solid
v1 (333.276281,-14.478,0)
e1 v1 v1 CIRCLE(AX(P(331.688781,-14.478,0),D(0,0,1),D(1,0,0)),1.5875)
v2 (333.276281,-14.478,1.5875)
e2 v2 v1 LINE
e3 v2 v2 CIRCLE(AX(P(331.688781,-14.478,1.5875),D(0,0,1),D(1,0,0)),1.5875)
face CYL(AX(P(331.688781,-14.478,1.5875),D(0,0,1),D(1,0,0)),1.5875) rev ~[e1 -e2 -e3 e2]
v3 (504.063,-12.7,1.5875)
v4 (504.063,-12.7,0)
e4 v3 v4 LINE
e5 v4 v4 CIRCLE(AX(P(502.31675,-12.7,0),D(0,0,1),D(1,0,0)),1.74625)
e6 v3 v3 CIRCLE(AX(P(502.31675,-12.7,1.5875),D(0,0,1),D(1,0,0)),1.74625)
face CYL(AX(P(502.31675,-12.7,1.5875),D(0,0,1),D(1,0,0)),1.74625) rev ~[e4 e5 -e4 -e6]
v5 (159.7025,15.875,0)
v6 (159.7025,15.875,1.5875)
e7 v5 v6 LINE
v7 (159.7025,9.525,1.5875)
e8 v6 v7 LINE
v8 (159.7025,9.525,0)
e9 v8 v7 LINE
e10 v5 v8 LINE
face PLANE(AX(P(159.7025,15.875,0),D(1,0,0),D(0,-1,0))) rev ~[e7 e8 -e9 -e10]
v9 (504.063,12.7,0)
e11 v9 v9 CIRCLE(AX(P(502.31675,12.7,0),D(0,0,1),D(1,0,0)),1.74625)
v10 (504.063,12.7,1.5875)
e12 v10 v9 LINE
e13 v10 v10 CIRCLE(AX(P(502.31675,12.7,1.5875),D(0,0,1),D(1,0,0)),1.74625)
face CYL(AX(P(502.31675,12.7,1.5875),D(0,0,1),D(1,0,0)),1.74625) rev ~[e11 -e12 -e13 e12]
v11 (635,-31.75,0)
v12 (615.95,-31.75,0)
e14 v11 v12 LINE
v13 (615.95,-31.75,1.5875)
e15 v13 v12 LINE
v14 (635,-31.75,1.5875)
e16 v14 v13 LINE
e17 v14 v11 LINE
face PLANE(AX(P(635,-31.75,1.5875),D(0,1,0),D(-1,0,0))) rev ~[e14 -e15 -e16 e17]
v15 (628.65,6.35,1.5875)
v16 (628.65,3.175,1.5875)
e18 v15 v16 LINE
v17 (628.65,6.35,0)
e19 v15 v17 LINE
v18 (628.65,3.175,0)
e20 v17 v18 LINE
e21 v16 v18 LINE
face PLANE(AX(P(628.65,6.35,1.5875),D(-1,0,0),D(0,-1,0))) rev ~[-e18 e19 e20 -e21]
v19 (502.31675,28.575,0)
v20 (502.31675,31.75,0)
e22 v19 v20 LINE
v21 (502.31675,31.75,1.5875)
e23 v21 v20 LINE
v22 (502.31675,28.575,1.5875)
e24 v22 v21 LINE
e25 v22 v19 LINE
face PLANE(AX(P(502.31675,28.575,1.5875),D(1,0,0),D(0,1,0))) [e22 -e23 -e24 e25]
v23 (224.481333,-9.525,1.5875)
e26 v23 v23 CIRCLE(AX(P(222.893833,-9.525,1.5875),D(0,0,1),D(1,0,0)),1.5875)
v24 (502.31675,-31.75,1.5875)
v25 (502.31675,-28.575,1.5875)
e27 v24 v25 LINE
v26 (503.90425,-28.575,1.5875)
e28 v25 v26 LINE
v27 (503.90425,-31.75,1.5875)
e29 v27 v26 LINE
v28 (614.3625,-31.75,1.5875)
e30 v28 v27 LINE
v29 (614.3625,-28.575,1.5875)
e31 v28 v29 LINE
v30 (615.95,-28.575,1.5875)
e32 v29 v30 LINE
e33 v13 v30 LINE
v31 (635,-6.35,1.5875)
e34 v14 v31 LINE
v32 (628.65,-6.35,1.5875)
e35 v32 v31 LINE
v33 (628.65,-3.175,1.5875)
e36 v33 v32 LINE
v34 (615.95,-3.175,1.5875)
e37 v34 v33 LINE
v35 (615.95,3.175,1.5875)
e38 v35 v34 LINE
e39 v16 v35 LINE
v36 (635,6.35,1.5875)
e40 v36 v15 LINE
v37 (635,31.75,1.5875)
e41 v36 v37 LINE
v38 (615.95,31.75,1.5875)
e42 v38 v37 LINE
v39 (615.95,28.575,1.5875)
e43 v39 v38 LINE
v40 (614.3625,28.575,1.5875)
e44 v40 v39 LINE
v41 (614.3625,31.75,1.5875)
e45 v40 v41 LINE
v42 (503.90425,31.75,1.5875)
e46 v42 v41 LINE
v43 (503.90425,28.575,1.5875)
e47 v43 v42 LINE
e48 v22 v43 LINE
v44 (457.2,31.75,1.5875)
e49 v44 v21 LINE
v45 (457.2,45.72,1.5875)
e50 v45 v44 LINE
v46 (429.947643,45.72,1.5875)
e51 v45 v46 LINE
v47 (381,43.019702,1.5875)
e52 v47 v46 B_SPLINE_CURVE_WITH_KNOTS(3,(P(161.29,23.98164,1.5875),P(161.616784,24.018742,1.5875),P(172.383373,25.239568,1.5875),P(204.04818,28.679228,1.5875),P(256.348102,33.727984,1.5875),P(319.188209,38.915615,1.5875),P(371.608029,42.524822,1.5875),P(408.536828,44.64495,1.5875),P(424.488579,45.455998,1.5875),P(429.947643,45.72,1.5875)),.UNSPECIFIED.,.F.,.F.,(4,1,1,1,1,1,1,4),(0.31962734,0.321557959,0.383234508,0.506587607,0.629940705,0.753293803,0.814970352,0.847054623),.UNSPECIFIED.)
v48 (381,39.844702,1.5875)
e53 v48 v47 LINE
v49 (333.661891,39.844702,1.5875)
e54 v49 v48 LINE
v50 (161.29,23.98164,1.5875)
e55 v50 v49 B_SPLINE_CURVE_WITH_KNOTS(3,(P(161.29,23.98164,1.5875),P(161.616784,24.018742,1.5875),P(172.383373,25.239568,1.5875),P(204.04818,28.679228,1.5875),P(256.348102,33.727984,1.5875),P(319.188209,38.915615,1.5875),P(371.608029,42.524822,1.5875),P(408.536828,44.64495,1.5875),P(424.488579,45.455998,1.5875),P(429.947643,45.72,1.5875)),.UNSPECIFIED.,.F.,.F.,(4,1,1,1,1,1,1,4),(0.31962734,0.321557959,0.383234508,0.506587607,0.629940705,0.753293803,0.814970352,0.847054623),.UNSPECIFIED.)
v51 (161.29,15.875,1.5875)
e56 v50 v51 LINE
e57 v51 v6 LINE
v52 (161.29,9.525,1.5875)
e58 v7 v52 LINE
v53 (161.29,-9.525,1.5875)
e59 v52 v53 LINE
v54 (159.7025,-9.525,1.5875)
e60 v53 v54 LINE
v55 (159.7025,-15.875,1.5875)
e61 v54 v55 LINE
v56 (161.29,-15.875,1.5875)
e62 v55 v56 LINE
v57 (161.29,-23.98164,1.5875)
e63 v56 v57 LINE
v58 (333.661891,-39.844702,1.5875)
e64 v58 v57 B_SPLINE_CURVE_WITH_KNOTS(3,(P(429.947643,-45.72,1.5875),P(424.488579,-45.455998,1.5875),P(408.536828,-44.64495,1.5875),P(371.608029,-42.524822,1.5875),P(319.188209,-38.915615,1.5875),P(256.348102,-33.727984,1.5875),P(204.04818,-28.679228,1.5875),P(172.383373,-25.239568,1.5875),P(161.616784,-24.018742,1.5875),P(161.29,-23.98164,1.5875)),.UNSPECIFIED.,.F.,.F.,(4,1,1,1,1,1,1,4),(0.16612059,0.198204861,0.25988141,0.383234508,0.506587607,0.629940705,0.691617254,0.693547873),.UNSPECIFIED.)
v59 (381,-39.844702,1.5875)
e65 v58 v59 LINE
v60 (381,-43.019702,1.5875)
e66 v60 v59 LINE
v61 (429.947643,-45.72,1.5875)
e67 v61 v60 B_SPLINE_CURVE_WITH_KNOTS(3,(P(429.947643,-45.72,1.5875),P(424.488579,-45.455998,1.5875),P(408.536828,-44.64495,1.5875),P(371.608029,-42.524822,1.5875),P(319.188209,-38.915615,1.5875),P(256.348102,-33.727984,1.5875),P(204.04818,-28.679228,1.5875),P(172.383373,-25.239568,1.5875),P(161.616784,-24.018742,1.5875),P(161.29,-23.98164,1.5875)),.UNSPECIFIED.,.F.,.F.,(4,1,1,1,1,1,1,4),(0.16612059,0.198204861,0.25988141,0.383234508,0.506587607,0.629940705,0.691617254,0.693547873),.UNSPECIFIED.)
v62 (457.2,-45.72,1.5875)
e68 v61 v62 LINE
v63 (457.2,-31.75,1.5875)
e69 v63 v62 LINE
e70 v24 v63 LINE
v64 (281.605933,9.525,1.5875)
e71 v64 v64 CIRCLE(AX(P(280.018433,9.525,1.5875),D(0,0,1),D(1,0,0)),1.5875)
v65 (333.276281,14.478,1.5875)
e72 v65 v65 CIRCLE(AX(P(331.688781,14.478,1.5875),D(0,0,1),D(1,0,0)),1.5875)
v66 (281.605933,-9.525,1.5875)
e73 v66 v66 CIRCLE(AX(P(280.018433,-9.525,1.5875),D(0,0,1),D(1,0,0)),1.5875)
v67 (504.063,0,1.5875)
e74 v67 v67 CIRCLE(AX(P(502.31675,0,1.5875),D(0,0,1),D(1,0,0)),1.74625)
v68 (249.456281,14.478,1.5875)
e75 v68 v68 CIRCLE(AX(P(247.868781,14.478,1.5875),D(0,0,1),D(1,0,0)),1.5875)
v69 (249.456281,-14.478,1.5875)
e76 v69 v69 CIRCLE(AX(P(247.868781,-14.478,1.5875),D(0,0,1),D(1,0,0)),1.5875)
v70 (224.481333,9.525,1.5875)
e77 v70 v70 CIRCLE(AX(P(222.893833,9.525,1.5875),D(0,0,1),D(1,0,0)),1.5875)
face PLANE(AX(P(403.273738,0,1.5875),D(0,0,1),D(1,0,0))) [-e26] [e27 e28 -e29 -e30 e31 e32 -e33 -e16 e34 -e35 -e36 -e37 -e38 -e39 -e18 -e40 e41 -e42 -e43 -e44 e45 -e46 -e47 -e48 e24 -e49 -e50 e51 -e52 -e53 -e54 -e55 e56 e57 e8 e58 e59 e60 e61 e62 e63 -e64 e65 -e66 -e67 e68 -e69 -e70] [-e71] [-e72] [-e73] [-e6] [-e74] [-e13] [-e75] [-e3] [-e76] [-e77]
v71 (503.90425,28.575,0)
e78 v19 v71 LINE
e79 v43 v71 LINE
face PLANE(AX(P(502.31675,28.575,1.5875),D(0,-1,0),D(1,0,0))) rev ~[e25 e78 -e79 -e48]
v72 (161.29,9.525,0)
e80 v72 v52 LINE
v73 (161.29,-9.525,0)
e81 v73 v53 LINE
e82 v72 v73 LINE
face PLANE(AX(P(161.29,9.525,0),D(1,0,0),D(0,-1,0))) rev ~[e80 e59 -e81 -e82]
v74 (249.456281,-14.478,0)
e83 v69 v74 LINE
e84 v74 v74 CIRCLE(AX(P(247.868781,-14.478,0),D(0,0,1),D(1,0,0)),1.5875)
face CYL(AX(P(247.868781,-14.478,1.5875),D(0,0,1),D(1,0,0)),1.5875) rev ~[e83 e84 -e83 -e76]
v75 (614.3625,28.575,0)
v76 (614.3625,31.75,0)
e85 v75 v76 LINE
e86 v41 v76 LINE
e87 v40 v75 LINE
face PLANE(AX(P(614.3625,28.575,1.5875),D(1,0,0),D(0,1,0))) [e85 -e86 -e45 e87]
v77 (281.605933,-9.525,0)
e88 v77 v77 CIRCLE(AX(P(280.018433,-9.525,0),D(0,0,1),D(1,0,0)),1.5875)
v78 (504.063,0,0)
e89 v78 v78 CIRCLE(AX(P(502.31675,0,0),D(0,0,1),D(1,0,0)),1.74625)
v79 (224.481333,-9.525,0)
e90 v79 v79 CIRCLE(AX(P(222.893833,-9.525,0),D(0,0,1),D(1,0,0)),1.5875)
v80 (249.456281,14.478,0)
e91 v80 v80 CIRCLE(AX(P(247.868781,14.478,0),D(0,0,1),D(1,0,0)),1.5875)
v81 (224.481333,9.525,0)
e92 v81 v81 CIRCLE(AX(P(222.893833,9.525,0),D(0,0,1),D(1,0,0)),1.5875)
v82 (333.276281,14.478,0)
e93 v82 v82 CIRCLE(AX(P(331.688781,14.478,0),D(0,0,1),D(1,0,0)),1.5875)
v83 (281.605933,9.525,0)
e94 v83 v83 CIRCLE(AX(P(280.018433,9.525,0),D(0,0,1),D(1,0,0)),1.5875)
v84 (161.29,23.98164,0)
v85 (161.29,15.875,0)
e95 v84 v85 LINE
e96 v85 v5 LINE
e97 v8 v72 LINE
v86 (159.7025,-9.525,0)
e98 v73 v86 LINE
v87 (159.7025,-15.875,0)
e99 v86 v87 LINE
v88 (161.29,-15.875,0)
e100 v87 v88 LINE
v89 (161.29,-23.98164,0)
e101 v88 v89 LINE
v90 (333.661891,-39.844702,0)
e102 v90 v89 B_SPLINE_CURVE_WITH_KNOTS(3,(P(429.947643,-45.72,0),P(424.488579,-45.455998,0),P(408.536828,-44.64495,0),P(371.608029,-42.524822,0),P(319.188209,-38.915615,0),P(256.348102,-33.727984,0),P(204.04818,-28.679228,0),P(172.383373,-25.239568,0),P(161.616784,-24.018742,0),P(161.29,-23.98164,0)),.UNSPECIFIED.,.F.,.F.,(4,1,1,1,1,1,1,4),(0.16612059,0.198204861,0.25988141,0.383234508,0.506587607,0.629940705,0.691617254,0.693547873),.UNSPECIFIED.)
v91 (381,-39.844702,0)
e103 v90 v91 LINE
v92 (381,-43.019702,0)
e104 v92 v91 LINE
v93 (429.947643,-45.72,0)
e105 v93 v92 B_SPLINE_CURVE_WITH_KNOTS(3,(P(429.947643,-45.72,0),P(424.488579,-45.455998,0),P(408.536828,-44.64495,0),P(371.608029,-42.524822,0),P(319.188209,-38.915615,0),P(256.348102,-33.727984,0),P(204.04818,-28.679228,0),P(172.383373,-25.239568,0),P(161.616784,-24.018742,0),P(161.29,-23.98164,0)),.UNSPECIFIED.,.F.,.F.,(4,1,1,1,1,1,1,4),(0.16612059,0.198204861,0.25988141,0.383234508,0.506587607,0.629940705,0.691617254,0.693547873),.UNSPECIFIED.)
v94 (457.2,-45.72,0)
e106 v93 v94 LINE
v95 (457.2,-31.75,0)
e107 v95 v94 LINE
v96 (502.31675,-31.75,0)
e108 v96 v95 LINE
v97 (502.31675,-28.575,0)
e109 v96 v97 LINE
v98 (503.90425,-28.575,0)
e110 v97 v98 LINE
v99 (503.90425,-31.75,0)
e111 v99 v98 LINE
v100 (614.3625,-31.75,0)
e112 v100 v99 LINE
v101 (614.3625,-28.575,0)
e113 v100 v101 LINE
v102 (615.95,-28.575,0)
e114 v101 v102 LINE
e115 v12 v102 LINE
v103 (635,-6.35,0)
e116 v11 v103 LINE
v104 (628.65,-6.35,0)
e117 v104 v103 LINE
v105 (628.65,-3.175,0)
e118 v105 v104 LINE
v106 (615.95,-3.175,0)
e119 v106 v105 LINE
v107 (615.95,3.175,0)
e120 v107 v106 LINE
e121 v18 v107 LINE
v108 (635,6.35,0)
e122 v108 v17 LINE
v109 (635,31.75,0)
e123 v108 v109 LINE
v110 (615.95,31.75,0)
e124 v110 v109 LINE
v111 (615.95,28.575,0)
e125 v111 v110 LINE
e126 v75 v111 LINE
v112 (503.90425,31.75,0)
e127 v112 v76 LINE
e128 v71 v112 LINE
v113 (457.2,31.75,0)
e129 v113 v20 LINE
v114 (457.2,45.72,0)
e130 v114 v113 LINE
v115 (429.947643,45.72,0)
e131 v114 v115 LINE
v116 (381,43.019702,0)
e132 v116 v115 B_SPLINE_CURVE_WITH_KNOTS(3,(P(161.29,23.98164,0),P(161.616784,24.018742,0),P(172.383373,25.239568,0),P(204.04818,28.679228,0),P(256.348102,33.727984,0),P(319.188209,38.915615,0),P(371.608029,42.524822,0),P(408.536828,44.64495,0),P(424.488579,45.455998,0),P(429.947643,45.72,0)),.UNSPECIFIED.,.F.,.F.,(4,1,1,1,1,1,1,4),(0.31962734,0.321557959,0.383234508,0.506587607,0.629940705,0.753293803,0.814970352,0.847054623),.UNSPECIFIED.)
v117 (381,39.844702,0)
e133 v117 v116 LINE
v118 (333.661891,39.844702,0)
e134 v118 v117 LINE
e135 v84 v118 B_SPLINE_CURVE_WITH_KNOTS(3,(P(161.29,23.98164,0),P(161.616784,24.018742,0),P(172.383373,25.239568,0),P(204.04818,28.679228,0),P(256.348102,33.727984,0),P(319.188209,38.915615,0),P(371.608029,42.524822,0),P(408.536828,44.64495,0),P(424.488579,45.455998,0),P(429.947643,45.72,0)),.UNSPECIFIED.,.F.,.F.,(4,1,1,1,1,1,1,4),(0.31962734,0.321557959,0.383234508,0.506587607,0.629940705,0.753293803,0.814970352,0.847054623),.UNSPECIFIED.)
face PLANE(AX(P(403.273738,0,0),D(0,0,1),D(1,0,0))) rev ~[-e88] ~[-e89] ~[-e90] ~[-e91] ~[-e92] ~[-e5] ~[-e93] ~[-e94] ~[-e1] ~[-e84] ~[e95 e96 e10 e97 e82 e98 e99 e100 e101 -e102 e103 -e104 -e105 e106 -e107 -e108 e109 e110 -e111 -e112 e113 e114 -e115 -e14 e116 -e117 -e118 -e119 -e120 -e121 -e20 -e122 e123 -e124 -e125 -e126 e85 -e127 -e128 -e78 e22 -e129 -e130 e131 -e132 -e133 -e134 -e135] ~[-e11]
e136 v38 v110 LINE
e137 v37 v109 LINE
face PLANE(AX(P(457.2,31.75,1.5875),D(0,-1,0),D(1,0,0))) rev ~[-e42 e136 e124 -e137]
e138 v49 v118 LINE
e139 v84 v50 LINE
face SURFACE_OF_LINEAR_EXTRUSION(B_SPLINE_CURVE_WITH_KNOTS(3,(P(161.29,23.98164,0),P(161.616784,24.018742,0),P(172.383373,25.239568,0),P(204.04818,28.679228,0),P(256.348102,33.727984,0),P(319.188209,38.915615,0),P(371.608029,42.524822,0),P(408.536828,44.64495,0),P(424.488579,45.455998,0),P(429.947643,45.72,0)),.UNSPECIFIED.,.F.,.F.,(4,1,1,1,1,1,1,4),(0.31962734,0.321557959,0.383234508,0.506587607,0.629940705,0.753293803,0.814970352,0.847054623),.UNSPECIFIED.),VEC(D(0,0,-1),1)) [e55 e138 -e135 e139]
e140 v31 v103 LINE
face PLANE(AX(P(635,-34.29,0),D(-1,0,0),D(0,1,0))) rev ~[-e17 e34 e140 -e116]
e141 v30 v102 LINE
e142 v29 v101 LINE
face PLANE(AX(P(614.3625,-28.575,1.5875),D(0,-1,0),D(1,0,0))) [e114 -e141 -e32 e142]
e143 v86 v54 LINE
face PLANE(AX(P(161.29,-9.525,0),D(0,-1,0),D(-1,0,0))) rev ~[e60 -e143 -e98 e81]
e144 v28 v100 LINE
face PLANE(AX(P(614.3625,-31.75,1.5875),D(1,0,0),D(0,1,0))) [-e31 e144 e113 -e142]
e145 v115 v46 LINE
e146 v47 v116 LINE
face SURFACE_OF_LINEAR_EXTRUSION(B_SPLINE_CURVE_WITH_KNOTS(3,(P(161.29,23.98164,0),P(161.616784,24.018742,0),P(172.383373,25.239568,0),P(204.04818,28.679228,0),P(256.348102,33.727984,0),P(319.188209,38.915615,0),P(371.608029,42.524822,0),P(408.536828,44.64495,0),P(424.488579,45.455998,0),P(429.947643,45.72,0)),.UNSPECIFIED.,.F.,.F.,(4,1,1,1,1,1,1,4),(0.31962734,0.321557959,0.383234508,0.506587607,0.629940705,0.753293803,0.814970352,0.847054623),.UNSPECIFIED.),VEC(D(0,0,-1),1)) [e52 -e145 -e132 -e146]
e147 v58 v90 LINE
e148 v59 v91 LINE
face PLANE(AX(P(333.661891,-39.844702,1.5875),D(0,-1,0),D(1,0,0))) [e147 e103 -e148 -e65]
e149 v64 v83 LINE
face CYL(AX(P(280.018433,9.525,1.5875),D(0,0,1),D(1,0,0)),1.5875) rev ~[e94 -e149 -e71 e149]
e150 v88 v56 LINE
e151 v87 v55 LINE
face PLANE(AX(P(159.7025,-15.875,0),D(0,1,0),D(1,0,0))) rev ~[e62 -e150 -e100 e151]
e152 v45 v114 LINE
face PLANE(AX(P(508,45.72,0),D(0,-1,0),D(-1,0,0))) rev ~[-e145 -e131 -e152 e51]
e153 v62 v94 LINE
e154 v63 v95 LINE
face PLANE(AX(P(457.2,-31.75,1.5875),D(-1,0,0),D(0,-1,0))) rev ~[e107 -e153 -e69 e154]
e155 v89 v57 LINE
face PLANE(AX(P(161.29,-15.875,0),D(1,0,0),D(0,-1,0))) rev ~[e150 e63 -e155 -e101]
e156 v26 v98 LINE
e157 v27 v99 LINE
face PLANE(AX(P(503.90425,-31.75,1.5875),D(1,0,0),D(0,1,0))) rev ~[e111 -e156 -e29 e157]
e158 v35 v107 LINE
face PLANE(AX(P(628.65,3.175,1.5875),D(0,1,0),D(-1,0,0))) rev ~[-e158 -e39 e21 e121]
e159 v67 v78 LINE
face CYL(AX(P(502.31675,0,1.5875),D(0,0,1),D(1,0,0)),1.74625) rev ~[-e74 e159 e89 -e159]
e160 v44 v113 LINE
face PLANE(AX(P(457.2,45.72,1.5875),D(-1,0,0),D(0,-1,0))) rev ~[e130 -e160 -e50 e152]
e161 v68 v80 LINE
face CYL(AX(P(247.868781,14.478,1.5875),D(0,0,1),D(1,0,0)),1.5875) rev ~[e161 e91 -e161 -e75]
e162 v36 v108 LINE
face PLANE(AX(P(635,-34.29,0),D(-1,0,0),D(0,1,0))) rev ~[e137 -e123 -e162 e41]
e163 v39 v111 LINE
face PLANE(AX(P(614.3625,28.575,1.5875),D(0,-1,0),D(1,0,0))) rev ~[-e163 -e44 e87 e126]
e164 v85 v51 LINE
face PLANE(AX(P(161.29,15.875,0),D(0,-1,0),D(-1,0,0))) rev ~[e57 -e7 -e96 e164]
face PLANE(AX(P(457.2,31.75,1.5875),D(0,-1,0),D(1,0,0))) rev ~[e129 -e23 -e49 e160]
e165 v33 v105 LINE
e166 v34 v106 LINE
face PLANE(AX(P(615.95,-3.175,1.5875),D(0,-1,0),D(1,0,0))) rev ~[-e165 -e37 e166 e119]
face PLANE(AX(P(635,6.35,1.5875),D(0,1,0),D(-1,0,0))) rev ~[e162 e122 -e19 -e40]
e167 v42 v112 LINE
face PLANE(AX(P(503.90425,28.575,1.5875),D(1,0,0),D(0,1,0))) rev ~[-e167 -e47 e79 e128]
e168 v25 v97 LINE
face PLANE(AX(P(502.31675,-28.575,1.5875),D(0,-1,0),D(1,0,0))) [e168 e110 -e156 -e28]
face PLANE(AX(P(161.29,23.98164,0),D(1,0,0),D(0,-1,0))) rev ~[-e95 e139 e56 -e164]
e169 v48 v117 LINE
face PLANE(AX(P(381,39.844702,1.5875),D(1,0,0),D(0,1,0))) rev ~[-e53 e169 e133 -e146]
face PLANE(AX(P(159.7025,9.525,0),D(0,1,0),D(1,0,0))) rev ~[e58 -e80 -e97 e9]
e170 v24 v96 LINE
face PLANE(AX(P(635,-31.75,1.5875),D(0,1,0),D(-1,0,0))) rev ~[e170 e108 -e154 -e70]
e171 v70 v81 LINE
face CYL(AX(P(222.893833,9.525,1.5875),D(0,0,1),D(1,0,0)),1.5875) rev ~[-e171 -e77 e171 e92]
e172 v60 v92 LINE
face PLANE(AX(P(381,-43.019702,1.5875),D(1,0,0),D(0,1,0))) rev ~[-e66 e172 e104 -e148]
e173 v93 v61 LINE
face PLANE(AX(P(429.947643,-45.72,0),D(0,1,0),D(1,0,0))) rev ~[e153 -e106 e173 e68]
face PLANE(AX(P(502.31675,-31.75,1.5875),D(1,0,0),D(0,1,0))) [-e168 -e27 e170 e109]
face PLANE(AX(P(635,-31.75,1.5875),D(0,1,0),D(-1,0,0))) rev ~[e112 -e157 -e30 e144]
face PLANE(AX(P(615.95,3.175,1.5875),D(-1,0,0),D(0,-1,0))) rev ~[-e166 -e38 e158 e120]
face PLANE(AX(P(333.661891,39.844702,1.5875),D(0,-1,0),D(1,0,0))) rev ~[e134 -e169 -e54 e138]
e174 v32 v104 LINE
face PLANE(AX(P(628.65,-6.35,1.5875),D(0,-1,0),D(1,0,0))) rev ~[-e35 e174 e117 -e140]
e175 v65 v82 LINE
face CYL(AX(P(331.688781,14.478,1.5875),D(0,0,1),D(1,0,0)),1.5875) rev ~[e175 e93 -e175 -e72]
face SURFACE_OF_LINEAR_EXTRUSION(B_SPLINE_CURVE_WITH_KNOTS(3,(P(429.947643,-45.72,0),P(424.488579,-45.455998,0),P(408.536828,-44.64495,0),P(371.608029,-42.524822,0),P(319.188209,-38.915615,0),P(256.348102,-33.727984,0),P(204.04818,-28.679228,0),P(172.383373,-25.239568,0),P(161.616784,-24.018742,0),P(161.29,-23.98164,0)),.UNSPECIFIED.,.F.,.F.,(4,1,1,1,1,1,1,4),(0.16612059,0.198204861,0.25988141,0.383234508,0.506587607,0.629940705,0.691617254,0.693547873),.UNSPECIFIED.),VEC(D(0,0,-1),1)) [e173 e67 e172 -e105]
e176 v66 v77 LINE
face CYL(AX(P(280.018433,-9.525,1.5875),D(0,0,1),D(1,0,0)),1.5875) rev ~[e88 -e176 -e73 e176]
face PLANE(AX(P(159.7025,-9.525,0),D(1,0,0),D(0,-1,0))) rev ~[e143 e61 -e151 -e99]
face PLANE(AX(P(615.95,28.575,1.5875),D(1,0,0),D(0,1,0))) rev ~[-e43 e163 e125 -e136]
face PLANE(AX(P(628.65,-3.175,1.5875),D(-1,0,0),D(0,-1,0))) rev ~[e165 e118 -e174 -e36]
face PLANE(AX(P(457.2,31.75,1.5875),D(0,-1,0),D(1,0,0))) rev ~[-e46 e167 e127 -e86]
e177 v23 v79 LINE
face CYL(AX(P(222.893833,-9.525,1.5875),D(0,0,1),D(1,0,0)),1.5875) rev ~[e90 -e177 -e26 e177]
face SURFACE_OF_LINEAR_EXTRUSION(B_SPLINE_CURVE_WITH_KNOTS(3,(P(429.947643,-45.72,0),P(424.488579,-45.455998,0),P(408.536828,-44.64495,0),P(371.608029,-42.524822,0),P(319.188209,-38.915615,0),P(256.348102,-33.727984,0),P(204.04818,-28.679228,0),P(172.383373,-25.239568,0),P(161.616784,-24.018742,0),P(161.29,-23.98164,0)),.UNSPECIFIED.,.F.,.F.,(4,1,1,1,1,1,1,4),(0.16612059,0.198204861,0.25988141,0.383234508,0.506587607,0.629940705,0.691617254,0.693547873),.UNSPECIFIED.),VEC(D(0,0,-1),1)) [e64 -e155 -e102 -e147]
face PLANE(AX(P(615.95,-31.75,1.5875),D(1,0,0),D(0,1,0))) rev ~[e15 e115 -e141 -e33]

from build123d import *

# Parameters (mm, degrees)
BOSS_EXTRUDE1_DEPTH    = 1.5875
CUT_EXTRUDE1_DEPTH     = 637.645771754
SKETCH4_W              = 1.5875
SKETCH4_H              = 3.175
CUT_EXTRUDE2_DEPTH     = 637.645771754
SKETCH6_W              = 47.338109293
SKETCH6_H              = 3.175
CUT_EXTRUDE3_DEPTH     = 637.645771754
SKETCH7_R              = 1.5875
ARTS4_MOUNT_DEPTH      = 637.645771754
SKETCH8_R              = 1.5875
TELEMETRUM_MOUNT_DEPTH = 637.645771754
SKETCH9_R              = 1.74625
CUT_EXTRUDE4_DEPTH     = 637.645771754


with BuildPart() as part:
    # Sketch1 → Boss-Extrude1 (new body)
    with BuildSketch(Plane.XY):
        with BuildLine():
            Line((508, -45.72), (508, -34.29))
            Line((508, -34.29), (635, -34.29))
            Line((635, -34.29), (635, 34.29))
            Line((635, 34.29), (508, 34.29))
            Line((508, 34.29), (508, 45.72))
            Line((508, 45.72), (429.947642932, 45.72))
            add(Edge.make_bspline(
                [(161.29, 23.981640211), (161.616784041, 24.018741883), (172.383373415, 25.239568053), (204.048179593, 28.679227521), (256.348102033, 33.727983978), (319.188209115, 38.915614913), (371.60802888, 42.52482202), (408.536828327, 44.644949518), (424.488578703, 45.455997775), (429.947642932, 45.72)],
                knots=[0.31962734, 0.31962734, 0.31962734, 0.31962734, 0.321557959, 0.383234508, 0.506587607, 0.629940705, 0.753293803, 0.814970352, 0.847054623, 0.847054623, 0.847054623, 0.847054623], degree=3))
            Line((161.29, 23.981640211), (161.29, 15.875))
            Line((161.29, 15.875), (159.7025, 15.875))
            Line((159.7025, 15.875), (159.7025, 9.525))
            Line((159.7025, 9.525), (161.29, 9.525))
            Line((161.29, 9.525), (161.29, -9.525))
            Line((161.29, -9.525), (159.7025, -9.525))
            Line((159.7025, -9.525), (159.7025, -15.875))
            Line((159.7025, -15.875), (161.29, -15.875))
            Line((161.29, -15.875), (161.29, -23.981640211))
            add(Edge.make_bspline(
                [(429.947642932, -45.72), (424.488578703, -45.455997775), (408.536828327, -44.644949518), (371.60802888, -42.52482202), (319.188209115, -38.915614913), (256.348102033, -33.727983978), (204.048179593, -28.679227521), (172.383373415, -25.239568053), (161.616784041, -24.018741883), (161.29, -23.981640211)],
                knots=[0.16612059, 0.16612059, 0.16612059, 0.16612059, 0.198204861, 0.25988141, 0.383234508, 0.506587607, 0.629940705, 0.691617254, 0.693547873, 0.693547873, 0.693547873, 0.693547873], degree=3))
            Line((429.947642932, -45.72), (508, -45.72))
        make_face()
    extrude(amount=BOSS_EXTRUDE1_DEPTH)

    # Sketch3 → Cut-Extrude1 (cut, through all)
    with BuildSketch(Plane.XY.offset(1.5875)):
        Polygon((635, 34.29), (508, 34.29), (508, 45.72), (457.2, 45.72), (457.2, 31.75), (635, 31.75), align=None)
        Polygon((508, -45.72), (508, -34.29), (635, -34.29), (635, -31.75), (457.2, -31.75), (457.2, -45.72), align=None)
        Polygon((628.65, 6.35), (628.65, 3.175), (615.95, 3.175), (615.95, -3.175), (628.65, -3.175), (628.65, -6.35), (635, -6.35), (635, 6.35), align=None)
    extrude(amount=-CUT_EXTRUDE1_DEPTH, mode=Mode.SUBTRACT)

    # Sketch4 → Cut-Extrude2 (cut, through all)
    with BuildSketch(Plane.XY.offset(1.5875)):
        with Locations((503.1105, 30.1625)):
            Rectangle(SKETCH4_W, SKETCH4_H)
        with Locations((615.15625, 30.1625)):
            Rectangle(SKETCH4_W, SKETCH4_H)
        with Locations((503.1105, -30.1625)):
            Rectangle(SKETCH4_W, SKETCH4_H)
        with Locations((615.15625, -30.1625)):
            Rectangle(SKETCH4_W, SKETCH4_H)
    extrude(amount=-CUT_EXTRUDE2_DEPTH, mode=Mode.SUBTRACT)

    # Sketch6 → Cut-Extrude3 (cut, through all)
    with BuildSketch(Plane.XY.offset(1.5875)):
        with Locations((357.330945353, 41.432202354)):
            Rectangle(SKETCH6_W, SKETCH6_H)
        with Locations((357.330945353, -41.432202354)):
            Rectangle(SKETCH6_W, SKETCH6_H)
    extrude(amount=-CUT_EXTRUDE3_DEPTH, mode=Mode.SUBTRACT)

    # Sketch7 → ARTS4 mount (cut, through all)
    with BuildSketch(Plane.XY.offset(1.5875)):
        with Locations((331.688780886, 14.478)):
            Circle(SKETCH7_R)
        with Locations((331.688780886, -14.478)):
            Circle(SKETCH7_R)
        with Locations((247.868780886, 14.478)):
            Circle(SKETCH7_R)
        with Locations((247.868780886, -14.478)):
            Circle(SKETCH7_R)
    extrude(amount=-ARTS4_MOUNT_DEPTH, mode=Mode.SUBTRACT)

    # Sketch8 → Telemetrum Mount (cut, through all)
    with BuildSketch(Plane.XY.offset(1.5875)):
        with Locations((280.018433255, 9.525)):
            Circle(SKETCH8_R)
        with Locations((280.018433255, -9.525)):
            Circle(SKETCH8_R)
        with Locations((222.893833255, -9.525)):
            Circle(SKETCH8_R)
        with Locations((222.893833255, 9.525)):
            Circle(SKETCH8_R)
    extrude(amount=-TELEMETRUM_MOUNT_DEPTH, mode=Mode.SUBTRACT)

    # Sketch9 → Cut-Extrude4 (cut, through all)
    with BuildSketch(Plane.XY.offset(1.5875)):
        with Locations((502.31675, -12.7)):
            Circle(SKETCH9_R)
        with Locations((502.31675, 12.7)):
            Circle(SKETCH9_R)
        with Locations((502.31675, 0)):
            Circle(SKETCH9_R)
    extrude(amount=-CUT_EXTRUDE4_DEPTH, mode=Mode.SUBTRACT)


solid = part.part
